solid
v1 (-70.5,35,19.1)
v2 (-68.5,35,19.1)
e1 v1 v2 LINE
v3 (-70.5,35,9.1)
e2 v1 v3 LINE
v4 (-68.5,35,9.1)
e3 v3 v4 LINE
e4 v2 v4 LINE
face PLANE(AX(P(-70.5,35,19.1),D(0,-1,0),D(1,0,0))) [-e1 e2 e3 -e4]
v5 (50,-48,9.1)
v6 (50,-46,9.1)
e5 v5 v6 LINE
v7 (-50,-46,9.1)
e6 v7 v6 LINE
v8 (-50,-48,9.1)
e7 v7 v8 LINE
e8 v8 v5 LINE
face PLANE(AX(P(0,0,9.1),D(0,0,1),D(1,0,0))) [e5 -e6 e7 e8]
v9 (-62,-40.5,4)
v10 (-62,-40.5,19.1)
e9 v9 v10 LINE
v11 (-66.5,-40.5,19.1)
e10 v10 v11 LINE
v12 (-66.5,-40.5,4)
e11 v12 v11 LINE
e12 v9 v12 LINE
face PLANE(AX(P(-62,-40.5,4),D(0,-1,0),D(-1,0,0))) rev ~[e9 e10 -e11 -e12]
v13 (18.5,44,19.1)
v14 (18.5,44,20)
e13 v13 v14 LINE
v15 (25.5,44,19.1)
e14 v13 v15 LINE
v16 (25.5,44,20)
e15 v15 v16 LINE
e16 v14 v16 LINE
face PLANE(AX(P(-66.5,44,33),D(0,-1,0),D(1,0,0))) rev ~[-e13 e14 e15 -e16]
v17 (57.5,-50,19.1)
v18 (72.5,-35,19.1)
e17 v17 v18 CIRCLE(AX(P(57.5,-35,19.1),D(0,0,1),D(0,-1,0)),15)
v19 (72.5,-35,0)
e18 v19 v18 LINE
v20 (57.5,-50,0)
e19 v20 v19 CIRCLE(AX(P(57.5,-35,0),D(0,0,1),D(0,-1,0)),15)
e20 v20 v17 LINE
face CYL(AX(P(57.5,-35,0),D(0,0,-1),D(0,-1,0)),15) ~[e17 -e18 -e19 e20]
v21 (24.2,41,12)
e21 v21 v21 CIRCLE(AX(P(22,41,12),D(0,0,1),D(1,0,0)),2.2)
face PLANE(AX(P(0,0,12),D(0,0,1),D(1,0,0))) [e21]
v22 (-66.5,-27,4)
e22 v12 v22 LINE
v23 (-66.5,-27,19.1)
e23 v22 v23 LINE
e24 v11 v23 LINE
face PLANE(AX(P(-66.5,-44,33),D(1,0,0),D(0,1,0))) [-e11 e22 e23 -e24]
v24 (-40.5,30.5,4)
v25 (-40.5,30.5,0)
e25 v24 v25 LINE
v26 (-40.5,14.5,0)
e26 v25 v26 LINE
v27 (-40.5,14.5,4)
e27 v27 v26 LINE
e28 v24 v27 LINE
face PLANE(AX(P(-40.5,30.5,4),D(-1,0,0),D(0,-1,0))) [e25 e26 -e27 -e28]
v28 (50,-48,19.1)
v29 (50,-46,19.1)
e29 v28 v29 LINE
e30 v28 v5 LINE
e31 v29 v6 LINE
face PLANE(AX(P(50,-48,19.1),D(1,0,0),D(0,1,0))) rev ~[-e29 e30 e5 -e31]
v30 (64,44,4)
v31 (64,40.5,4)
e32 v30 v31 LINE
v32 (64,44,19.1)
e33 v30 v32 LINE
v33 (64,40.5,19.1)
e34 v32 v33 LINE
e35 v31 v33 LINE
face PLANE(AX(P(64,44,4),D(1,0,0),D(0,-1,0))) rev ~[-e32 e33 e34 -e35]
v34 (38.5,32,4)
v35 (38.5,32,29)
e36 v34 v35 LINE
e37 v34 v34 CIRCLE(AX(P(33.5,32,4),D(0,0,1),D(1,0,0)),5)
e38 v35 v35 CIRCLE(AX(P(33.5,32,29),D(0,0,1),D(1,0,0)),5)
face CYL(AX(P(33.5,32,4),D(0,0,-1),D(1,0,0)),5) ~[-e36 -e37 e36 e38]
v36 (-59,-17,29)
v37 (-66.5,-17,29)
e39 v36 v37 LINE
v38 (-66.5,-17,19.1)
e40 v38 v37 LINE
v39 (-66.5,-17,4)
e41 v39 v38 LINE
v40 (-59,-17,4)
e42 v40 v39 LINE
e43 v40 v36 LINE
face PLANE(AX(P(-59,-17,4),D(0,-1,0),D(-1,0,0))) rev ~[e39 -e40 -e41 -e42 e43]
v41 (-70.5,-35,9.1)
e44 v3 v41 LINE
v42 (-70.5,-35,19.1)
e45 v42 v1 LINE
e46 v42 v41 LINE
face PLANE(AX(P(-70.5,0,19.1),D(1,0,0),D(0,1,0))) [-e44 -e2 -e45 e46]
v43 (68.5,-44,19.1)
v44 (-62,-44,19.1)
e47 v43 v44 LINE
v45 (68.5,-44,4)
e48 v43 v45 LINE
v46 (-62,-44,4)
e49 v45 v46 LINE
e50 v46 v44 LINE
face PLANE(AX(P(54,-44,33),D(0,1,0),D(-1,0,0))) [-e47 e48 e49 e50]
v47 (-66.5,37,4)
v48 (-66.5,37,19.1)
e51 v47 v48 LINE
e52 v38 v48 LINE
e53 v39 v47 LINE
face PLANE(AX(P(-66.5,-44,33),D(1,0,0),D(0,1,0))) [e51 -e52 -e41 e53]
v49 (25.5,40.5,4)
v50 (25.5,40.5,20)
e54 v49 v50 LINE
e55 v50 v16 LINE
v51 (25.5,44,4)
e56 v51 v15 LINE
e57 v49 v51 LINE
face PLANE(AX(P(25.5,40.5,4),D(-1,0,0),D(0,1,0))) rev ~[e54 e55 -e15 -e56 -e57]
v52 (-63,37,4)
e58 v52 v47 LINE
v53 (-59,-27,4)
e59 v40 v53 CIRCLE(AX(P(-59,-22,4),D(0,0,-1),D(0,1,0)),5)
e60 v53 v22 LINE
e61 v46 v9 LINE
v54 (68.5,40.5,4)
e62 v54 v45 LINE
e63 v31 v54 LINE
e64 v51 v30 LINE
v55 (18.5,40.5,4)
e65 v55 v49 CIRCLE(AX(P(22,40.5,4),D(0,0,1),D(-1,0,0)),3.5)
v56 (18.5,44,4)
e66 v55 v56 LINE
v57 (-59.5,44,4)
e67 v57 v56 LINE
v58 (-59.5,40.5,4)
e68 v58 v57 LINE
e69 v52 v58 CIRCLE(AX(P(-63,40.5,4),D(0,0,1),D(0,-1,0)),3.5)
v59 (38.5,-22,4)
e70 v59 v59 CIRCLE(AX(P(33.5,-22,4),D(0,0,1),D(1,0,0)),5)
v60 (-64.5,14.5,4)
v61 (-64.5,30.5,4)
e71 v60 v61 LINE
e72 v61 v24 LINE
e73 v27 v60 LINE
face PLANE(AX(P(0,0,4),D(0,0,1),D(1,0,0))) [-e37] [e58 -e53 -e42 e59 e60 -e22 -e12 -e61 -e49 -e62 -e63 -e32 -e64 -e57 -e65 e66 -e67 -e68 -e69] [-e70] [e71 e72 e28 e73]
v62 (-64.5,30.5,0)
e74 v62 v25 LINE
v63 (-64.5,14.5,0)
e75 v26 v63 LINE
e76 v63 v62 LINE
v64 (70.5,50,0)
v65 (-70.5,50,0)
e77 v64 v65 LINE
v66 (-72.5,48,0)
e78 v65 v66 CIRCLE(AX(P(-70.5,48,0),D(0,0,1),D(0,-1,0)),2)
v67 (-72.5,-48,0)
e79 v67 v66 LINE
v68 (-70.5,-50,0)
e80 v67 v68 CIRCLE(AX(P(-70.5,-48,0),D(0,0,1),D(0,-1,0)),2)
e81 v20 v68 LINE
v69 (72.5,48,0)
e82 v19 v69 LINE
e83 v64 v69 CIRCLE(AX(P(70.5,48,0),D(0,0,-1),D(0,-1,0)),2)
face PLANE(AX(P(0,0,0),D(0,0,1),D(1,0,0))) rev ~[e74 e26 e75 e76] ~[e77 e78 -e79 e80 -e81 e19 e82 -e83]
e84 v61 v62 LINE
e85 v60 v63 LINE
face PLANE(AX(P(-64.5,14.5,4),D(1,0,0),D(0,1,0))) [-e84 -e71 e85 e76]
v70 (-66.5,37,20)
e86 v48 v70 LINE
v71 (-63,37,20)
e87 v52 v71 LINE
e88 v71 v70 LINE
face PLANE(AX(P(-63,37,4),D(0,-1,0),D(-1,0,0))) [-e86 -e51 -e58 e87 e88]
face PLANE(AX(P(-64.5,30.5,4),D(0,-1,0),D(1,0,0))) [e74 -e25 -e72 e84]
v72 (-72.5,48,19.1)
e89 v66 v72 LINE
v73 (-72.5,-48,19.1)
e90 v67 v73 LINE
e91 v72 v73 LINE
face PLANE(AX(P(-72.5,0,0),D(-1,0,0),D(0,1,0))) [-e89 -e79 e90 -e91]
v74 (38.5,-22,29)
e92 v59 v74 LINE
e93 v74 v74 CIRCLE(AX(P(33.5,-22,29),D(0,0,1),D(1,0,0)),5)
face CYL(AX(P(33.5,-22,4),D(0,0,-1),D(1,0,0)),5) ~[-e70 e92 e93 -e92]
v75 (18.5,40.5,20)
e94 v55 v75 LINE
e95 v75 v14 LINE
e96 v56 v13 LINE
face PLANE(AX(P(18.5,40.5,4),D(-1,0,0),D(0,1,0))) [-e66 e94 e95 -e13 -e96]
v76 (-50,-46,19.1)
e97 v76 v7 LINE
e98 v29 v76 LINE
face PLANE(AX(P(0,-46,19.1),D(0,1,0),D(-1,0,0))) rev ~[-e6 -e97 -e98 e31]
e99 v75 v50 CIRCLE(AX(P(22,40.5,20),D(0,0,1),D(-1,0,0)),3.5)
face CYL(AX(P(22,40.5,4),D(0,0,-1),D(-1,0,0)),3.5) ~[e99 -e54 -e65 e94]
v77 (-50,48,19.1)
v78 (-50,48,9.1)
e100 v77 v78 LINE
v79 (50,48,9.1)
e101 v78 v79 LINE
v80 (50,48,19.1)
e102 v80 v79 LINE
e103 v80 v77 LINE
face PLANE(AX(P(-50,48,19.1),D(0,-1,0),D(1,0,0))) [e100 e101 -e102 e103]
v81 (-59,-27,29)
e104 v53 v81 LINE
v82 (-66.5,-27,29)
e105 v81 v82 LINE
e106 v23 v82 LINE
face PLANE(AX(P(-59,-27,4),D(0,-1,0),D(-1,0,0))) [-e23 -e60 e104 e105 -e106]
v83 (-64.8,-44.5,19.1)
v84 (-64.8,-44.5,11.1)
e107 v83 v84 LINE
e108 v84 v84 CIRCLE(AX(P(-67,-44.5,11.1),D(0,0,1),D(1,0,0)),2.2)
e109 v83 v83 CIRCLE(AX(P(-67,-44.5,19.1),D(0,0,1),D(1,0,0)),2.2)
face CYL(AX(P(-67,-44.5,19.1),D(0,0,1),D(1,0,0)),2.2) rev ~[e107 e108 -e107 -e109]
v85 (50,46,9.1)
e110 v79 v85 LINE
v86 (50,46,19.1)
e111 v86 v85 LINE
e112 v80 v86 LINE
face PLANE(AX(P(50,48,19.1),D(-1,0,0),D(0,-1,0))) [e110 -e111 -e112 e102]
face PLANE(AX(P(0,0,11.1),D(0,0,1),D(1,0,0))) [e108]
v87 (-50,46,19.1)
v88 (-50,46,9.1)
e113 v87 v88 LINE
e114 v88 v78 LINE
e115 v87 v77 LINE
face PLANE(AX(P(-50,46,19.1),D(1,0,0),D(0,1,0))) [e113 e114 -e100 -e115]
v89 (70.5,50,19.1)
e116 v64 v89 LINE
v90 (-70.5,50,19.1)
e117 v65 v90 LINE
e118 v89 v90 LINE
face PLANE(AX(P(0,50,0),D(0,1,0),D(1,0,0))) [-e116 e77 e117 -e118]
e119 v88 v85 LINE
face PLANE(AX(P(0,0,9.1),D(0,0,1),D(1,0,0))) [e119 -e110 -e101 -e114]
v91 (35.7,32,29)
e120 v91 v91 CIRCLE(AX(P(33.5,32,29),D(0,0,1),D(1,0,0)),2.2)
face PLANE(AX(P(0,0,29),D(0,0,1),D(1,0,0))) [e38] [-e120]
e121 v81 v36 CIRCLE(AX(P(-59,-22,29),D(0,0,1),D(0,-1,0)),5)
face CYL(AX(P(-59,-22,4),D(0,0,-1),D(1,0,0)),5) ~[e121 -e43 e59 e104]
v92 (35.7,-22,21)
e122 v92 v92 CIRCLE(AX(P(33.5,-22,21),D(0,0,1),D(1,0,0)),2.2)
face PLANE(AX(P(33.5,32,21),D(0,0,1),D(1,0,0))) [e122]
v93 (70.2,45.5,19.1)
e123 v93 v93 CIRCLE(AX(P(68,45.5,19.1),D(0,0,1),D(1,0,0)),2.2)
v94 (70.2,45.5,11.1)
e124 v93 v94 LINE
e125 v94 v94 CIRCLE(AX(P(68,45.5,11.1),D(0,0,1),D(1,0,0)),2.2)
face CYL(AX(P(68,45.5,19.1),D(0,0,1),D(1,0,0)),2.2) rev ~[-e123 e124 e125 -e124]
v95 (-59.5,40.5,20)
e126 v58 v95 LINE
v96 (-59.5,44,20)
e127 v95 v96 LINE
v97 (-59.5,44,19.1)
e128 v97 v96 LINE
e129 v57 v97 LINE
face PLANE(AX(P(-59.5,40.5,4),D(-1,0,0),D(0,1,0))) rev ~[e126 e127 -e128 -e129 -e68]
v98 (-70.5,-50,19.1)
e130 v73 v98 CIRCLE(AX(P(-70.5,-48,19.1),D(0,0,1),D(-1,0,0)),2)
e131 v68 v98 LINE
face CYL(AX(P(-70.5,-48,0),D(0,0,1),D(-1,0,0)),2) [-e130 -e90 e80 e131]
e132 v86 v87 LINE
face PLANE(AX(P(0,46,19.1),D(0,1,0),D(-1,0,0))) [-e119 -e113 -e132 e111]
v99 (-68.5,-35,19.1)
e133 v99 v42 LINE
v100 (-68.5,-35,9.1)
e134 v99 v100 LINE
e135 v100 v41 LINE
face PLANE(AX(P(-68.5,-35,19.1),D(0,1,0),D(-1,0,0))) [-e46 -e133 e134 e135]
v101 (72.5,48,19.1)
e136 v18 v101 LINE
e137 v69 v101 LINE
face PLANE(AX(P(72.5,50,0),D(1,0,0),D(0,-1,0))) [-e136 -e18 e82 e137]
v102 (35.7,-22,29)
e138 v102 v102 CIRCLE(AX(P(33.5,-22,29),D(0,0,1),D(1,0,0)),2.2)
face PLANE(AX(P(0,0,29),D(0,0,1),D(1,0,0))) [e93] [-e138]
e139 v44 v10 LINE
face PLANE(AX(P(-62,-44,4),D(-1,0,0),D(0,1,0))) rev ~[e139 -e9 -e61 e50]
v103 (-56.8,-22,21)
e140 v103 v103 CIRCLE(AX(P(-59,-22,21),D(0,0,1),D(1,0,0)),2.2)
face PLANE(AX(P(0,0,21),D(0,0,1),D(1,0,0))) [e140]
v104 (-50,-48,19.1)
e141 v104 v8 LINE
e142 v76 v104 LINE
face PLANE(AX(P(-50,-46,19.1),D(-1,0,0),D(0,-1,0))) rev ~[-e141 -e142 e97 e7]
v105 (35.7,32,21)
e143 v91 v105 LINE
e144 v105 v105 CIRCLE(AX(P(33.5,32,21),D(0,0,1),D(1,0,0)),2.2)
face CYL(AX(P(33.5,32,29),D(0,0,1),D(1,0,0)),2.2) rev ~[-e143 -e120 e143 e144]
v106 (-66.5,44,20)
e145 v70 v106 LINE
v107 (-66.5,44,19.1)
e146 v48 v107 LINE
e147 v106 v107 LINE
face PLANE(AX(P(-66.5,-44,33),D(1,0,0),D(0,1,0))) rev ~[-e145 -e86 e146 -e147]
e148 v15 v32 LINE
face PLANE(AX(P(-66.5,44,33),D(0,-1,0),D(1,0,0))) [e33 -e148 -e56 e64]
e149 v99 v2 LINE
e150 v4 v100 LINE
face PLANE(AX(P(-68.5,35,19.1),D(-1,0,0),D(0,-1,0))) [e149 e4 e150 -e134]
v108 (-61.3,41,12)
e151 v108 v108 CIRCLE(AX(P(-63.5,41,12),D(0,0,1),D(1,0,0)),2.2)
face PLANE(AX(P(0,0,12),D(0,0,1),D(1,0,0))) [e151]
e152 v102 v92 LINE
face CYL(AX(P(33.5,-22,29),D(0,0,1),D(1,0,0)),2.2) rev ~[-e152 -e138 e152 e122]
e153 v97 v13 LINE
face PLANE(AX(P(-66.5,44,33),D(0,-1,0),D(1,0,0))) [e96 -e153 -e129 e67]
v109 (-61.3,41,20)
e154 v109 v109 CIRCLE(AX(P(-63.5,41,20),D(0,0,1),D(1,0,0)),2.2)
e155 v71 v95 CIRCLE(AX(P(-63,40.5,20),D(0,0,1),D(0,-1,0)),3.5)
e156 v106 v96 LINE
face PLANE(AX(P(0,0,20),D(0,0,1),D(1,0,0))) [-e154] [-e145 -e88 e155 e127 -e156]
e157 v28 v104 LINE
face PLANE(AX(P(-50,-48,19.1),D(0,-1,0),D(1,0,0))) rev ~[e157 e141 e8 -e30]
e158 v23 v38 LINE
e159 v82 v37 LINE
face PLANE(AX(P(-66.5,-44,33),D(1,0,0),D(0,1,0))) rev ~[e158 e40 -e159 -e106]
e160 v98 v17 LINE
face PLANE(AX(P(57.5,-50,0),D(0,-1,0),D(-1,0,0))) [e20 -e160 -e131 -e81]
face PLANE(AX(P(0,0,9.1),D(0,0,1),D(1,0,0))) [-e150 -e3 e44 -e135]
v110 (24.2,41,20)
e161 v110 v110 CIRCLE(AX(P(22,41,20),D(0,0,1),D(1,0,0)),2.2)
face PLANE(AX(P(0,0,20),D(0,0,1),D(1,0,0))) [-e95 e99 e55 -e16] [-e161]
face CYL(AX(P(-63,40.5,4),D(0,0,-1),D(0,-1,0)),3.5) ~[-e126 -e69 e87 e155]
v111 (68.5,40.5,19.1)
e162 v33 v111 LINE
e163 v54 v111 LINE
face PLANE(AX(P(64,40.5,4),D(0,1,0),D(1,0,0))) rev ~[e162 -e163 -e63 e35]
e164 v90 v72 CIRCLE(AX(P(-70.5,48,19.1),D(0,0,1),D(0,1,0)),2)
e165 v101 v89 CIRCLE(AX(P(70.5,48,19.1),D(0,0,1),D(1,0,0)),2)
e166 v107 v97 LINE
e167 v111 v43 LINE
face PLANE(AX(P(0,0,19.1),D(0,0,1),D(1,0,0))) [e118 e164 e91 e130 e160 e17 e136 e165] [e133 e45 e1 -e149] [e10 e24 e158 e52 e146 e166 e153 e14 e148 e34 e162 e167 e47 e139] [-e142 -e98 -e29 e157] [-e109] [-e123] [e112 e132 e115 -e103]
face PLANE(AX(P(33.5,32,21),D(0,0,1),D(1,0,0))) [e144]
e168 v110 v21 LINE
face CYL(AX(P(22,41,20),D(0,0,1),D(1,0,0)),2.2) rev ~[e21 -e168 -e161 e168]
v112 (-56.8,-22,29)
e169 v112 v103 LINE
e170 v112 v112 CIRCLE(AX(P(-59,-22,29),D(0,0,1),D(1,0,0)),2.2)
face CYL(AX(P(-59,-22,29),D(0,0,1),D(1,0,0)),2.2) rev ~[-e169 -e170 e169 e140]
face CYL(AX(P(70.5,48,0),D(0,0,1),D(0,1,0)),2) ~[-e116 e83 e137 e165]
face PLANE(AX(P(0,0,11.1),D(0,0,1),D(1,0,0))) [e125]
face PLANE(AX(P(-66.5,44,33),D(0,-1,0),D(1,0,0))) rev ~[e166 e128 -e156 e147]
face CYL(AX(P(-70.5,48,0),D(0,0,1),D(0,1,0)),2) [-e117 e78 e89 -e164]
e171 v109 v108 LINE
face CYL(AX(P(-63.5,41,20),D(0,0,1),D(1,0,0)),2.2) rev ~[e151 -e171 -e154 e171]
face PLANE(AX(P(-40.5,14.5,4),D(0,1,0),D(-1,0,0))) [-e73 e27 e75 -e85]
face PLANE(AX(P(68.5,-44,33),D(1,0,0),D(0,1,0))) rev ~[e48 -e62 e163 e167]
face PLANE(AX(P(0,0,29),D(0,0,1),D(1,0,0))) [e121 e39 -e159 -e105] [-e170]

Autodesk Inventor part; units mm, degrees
ref_plane "YZ Plane" through (0, 0, 0) normal (1, 0, 0) x (0, 1, 0)
ref_plane "XZ Plane" through (0, 0, 0) normal (0, 1, 0) x (-1, 0, 0)
ref_plane "XY Plane" through (0, 0, 0) normal (0, 0, 1) x (1, 0, 0)
sketch "Náčrt1" plane through (0, 0, 0) normal (0, 0, 1) x (1, 0, 0)
  line L0 (0, 71.6213) -> (0, -79.7279) projected
  line L1 (-102.1213, 0) -> (105.2279, 0) projected
  line L2 (-72.5, 50) -> (72.5, 50)
  line L3 (72.5, 50) -> (72.5, -35)
  line L4 (57.5, -50) -> (-72.5, -50)
  line L5 (-72.5, -50) -> (-72.5, 50)
  arc A0 (57.5, -50) -> (72.5, -35) centre (57.5, -35) ccw
  point P0 (0, 0)
  point P1 (-72.5, 0)
  point P2 (0, -50)
  point P3 (0, 50)
  point P4 (72.5, 0)
  dimension "d0" = 130
  dimension "d1" = 100
  dimension "d2" = 30
extrude "Vysunutí1" add sketch "Náčrt1" along normal blind 33
sketch "Náčrt2" plane through (0, 0, 33) normal (0, 0, 1) x (1, 0, 0)
  line L0 (-72.5, -50) -> (57.5, -50) projected
  arc A0 (57.5, -50) -> (72.5, -35) centre (57.5, -35) ccw projected
  line L1 (72.5, -35) -> (72.5, 50) projected
  line L2 (72.5, 50) -> (-72.5, 50) projected
  line L3 (-72.5, 50) -> (-72.5, -50) projected
  line L4 (-66.5, 44) -> (68.5, 44)
  line L5 (68.5, 44) -> (68.5, -31.5)
  line L6 (54, -44) -> (-66.5, -44)
  line L7 (-66.5, -44) -> (-66.5, 44)
  line L8 (54, -44) -> (68.5, -44)
  line L9 (68.5, -44) -> (68.5, -31.5)
  point P0 (0, 0)
  dimension "d5" = 4
  dimension "d6" = 6
  dimension "d7" = 6
  dimension "d8" = 6
extrude "Vysunutí2" cut sketch "Náčrt2" against normal blind 29 contours L4 L5 L9 L8 L6 L7
fillet "Zaoblení1" radius 2 1 edges at (72.5, 50, 16.5)
fillet "Zaoblení2" radius 2 2 edges at (-72.5, 50, 16.5) (-72.5, -50, 16.5)
sketch "Náčrt3" plane through (0, 0, 4) normal (0, 0, 1) x (1, 0, 0)
  line L0 (68.5, 44) -> (68.5, -44) projected
  line L1 (-66.5, 44) -> (68.5, 44) projected
  line L2 (-66.5, -44) -> (-66.5, 44) projected
  line L3 (68.5, -44) -> (-66.5, -44) projected
  arc A0 (-72.5, -48) -> (-70.5, -50) centre (-70.5, -48) ccw projected
  line L4 (-70.5, -50) -> (57.5, -50) projected
  arc A1 (57.5, -50) -> (72.5, -35) centre (57.5, -35) ccw projected
  line L5 (72.5, -35) -> (72.5, 48) projected
  arc A2 (72.5, 48) -> (70.5, 50) centre (70.5, 48) ccw projected
  line L6 (70.5, 50) -> (-70.5, 50) projected
  arc A3 (-70.5, 50) -> (-72.5, 48) centre (-70.5, 48) ccw projected
  line L7 (-72.5, 48) -> (-72.5, -48) projected
  line L8 (-66.5, 44) -> (68.5, 44) projected
  line L9 (68.5, 44) -> (68.5, -44) projected
  line L10 (68.5, -44) -> (-66.5, -44) projected
  line L11 (-66.5, -44) -> (-66.5, 44) projected
  arc A4 (-63, 37) -> (-59.5, 40.5) centre (-63, 40.5) ccw
  line L12 (-66.5, 44) -> (68.5, 44) projected
  line L13 (-66.5, -44) -> (-66.5, 44) projected
  line L14 (-59.5, 40.5) -> (-59.5, 44)
  line L15 (-63, 37) -> (-66.5, 37)
  arc A5 (18.5, 40.5) -> (25.5, 40.5) centre (22, 40.5) ccw
  line L16 (25.5, 40.5) -> (25.5, 44)
  line L17 (18.5, 40.5) -> (18.5, 44)
  circle A6 centre (33.5, 32) radius 5
  circle A7 centre (20.5, -20.4118) radius 5
  arc A8 (-58.5, 21.7369) -> (-58.5, 31.7369) centre (-58.5, 26.7369) ccw
  line L18 (-58.5, 31.7369) -> (-66.5, 31.7369)
  line L19 (-58.5, 21.7369) -> (-66.5, 21.7369)
  point P0 (0, 0)
  point P1 (25.5, 42.25)
  point P2 (25.5, 44)
  point P3 (18.5, 44)
  point P4 (-66.5, 37)
  dimension "d14" = 7
  dimension "d15" = 7
  dimension "d16" = 85
  dimension "d17" = 10
  dimension "d18" = 8
  dimension "d19" = 8.5
  dimension "d20" = 10
  dimension "d21" = 54
  dimension "d22" = 48
  dimension "d23" = 10
  dimension "d24" = 92
  dimension "d25" = 8
extrude "Vysunutí3" add sketch "Náčrt3" along normal blind 16 contours L16 A5 L17 L1 | L14 A4 L15 L2 L1
sketch "Náčrt4" plane through (0, 0, 4) normal (0, 0, 1) x (1, 0, 0)
  line L0 (25.5, 44) -> (25.5, 40.5) projected
  arc A0 (18.5, 40.5) -> (25.5, 40.5) centre (22, 40.5) ccw projected
  line L1 (18.5, 40.5) -> (18.5, 44) projected
  line L2 (-59.5, 44) -> (18.5, 44) projected
  line L3 (-59.5, 44) -> (-59.5, 40.5) projected
  arc A1 (-63, 37) -> (-59.5, 40.5) centre (-63, 40.5) ccw projected
  line L4 (-63, 37) -> (-66.5, 37) projected
  line L5 (-66.5, -44) -> (-66.5, 37) projected
  line L6 (68.5, -44) -> (-66.5, -44) projected
  line L7 (68.5, 44) -> (68.5, -44) projected
  line L8 (25.5, 44) -> (68.5, 44) projected
  circle A2 centre (33.5, 32) radius 5
  circle A3 centre (33.5, -22) radius 5
  circle A4 centre (-59, -22) radius 5
  line L9 (-59, -17) -> (-66.5, -17)
  line L10 (-59, -27) -> (-66.5, -27)
  point P0 (0, 0)
  dimension "d28" = 10
  dimension "d29" = 10
  dimension "d30" = 10
  dimension "d31" = 8
  dimension "d32" = 8.5
  dimension "d33" = 54
  dimension "d61" = 92.5
  dimension "d62" = 7.5
  dimension "d77" = 100
extrude "Vysunutí4" add sketch "Náčrt4" along normal blind 25 contours L5 L9 A4 L10 | A4 | A2 | A3
sketch "Náčrt6" plane through (0, 0, 4) normal (0, 0, 1) x (1, 0, 0)
  line L0 (-64.5, 30.5) -> (-40.5, 30.5)
  line L1 (-40.5, 30.5) -> (-40.5, 14.5)
  line L2 (-40.5, 14.5) -> (-64.5, 14.5)
  line L3 (-64.5, 14.5) -> (-64.5, 30.5)
  line L4 (-66.5, 44) -> (68.5, 44) projected
  line L5 (-66.5, -44) -> (-66.5, 44) projected
  point P0 (0, 0)
  dimension "d41" = 24
  dimension "d42" = 16
  dimension "d43" = 13.5
  dimension "d44" = 2
extrude "Vysunutí5" cut sketch "Náčrt6" against normal blind 33
sketch "Náčrt8" plane through (0, 0, 33) normal (0, 0, 1) x (1, 0, 0)
  arc A0 (-72.5, -48) -> (-70.5, -50) centre (-70.5, -48) ccw projected
  line L0 (-70.5, -50) -> (57.5, -50) projected
  arc A1 (57.5, -50) -> (72.5, -35) centre (57.5, -35) ccw projected
  line L1 (72.5, -35) -> (72.5, 48) projected
  arc A2 (72.5, 48) -> (70.5, 50) centre (70.5, 48) ccw projected
  line L2 (70.5, 50) -> (-70.5, 50) projected
  arc A3 (-70.5, 50) -> (-72.5, 48) centre (-70.5, 48) ccw projected
  line L3 (-72.5, 48) -> (-72.5, -48) projected
  line L4 (-66.5, 44) -> (68.5, 44) projected
  line L5 (68.5, 44) -> (68.5, -44) projected
  line L6 (68.5, -44) -> (-66.5, -44) projected
  line L7 (-66.5, -44) -> (-66.5, 44) projected
  line L8 (-66.5, 44) -> (68.5, 44)
  line L9 (68.5, 44) -> (68.5, -44)
  line L10 (68.5, -44) -> (-66.5, -44)
  line L11 (-66.5, -44) -> (-66.5, 44)
  arc A4 (57.5, -50) -> (72.5, -35) centre (57.5, -35) ccw
  line L12 (72.5, -35) -> (72.5, 48.1384)
  line L13 (70.5, 50) -> (-70.5, 50)
  line L14 (-72.5, 48) -> (-72.5, -48)
  line L15 (-70.5, -50) -> (57.5, -50)
  circle A5 centre (-70.5, -48) radius 2
  circle A6 centre (-70.5, 48) radius 2
  circle A7 centre (70.5, 48) radius 2
  point P0 (0, 0)
extrude "Vysunutí6" cut sketch "Náčrt8" against normal blind 13.9
sketch "Náčrt9" plane through (0, 0, 20) normal (0, 0, 1) x (1, 0, 0)
  line L0 (-59.5, 40.5) -> (-59.5, 44) projected
  line L1 (-66.5, 44) -> (-59.5, 44) projected
  line L2 (-66.5, 37) -> (-66.5, 44) projected
  line L3 (-66.5, 37) -> (-63, 37) projected
  arc A0 (-63, 37) -> (-59.5, 40.5) centre (-63, 40.5) ccw projected
  line L4 (25.5, 40.5) -> (25.5, 44) projected
  line L5 (18.5, 44) -> (25.5, 44) projected
  line L6 (18.5, 44) -> (18.5, 40.5) projected
  arc A1 (18.5, 40.5) -> (25.5, 40.5) centre (22, 40.5) ccw projected
  circle A2 centre (-63.5, 41) radius 2.2
  circle A3 centre (22, 41) radius 2.2
  point P0 (0, 0)
  dimension "d49" = 4.4
  dimension "d50" = 3
  dimension "d51" = 3
  dimension "d52" = 4.4
  dimension "d53" = 3
  dimension "d54" = 3.5
extrude "Vysunutí7" cut sketch "Náčrt9" against normal blind 8 contours A2 | A3
sketch "Náčrt10" plane through (33.5, 32, 29) normal (0, 0, 1) x (1, 0, 0)
  circle A0 centre (0, 0) radius 5 projected
  circle A1 centre (0, -54) radius 5 projected
  line L0 (-92.5, -49) -> (-100, -49) projected
  line L1 (-100, -59) -> (-100, -49) projected
  line L2 (-100, -59) -> (-92.5, -59) projected
  arc A2 (-92.5, -59) -> (-92.5, -49) centre (-92.5, -54) ccw projected
  circle A3 centre (0, 0) radius 2.2
  circle A4 centre (0, -54) radius 2.2
  point P0 (-33.5, -32)
  dimension "d57" = 4.4
  dimension "d58" = 4.4
extrude "Vysunutí8" cut sketch "Náčrt10" against normal blind 8 contours A3 | A4
sketch "Náčrt11" plane through (0, 0, 29) normal (0, 0, 1) x (1, 0, 0)
  line L0 (-59, -17) -> (-66.5, -17) projected
  line L1 (-66.5, -27) -> (-66.5, -17) projected
  line L2 (-66.5, -27) -> (-59, -27) projected
  arc A0 (-59, -27) -> (-59, -17) centre (-59, -22) ccw projected
  circle A1 centre (-59, -22) radius 2.2
  point P0 (0, 0)
  dimension "d63" = 4.4
extrude "Vysunutí9" cut sketch "Náčrt11" against normal blind 8 contours A1
sketch "Náčrt12" plane through (0, 0, 20) normal (0, 0, 1) x (1, 0, 0)
  line L0 (-66.5, 37) -> (-63, 37) projected
  circle A0 centre (-63.5, 41) radius 2.2 projected
  line L1 (-59.5, 40.5) -> (-59.5, 44) projected
  line L2 (-66.5, 44) -> (-59.5, 44) projected
  line L3 (-66.5, 37) -> (-66.5, 44) projected
  line L4 (-66.5, 37) -> (-63, 37) projected
  arc A1 (-63, 37) -> (-59.5, 40.5) centre (-63, 40.5) ccw projected
  circle A2 centre (22, 41) radius 2.2 projected
  line L5 (25.5, 40.5) -> (25.5, 44) projected
  line L6 (18.5, 44) -> (25.5, 44) projected
  line L7 (18.5, 44) -> (18.5, 40.5) projected
  arc A3 (18.5, 40.5) -> (25.5, 40.5) centre (22, 40.5) ccw projected
  line L8 (-65.9036, 43.7615) -> (24.0964, 43.7615) construction
  line L9 (24.0964, 43.7615) -> (24.0964, -3.2385) construction
  line L10 (24.0964, -3.2385) -> (-65.9036, -3.2385) construction
  line L11 (-65.9036, -3.2385) -> (-65.9036, 43.7615) construction
  point P0 (0, 0)
  dimension "d66" = 90
  dimension "d67" = 47
sketch "Náčrt13" plane through (0, 0, 29) normal (0, 0, 1) x (1, 0, 0)
  circle A0 centre (-59, -22) radius 2.2 projected
  line L0 (-59, -17) -> (-66.5, -17) projected
  line L1 (-66.5, -27) -> (-66.5, -17) projected
  line L2 (-66.5, -27) -> (-59, -27) projected
  arc A1 (-59, -27) -> (-59, -17) centre (-59, -22) ccw projected
  circle A2 centre (33.5, -22) radius 2.2 projected
  circle A3 centre (33.5, -22) radius 5 projected
  circle A4 centre (33.5, 32) radius 5 projected
  circle A5 centre (33.5, 32) radius 2.2 projected
  line L3 (-62.1019, -25.0857) -> (36.3981, -25.0857) construction
  line L4 (36.3981, -25.0857) -> (36.3981, 34.9143) construction
  line L5 (36.3981, 34.9143) -> (-62.1019, 34.9143) construction
  line L6 (-62.1019, 34.9143) -> (-62.1019, -25.0857) construction
  point P0 (0, 0)
  dimension "d68" = 98.5
  dimension "d69" = 60
sketch "Náčrt15" plane through (0, 0, 4) normal (0, 0, 1) x (1, 0, 0)
  line L0 (-70.5, 50) -> (70.5, 50) projected
  arc A0 (-70.5, 50) -> (-72.5, 48) centre (-70.5, 48) ccw projected
  line L1 (-72.5, -48) -> (-72.5, 48) projected
  arc A1 (-72.5, -48) -> (-70.5, -50) centre (-70.5, -48) ccw projected
  line L2 (57.5, -50) -> (-70.5, -50) projected
  arc A2 (57.5, -50) -> (72.5, -35) centre (57.5, -35) ccw projected
  line L3 (72.5, 48) -> (72.5, -35) projected
  arc A3 (72.5, 48) -> (70.5, 50) centre (70.5, 48) ccw projected
  line L4 (-66.5, 37) -> (-66.5, -17) projected
  line L5 (18.5, 44) -> (-59.5, 44) projected
  line L6 (68.5, -44) -> (68.5, 44) projected
  line L7 (-66.5, -44) -> (68.5, -44) projected
  line L8 (-66.5, -27) -> (-66.5, -44) projected
  line L9 (-66.5, -17) -> (-66.5, -27) projected
  line L10 (-66.5, 44) -> (-66.5, 37) projected
  line L11 (-59.5, 44) -> (-66.5, 44) projected
  line L12 (25.5, 44) -> (18.5, 44) projected
  line L13 (68.5, 44) -> (25.5, 44) projected
  point P0 (0, 0)
sketch "Náčrt16" plane through (0, 0, 4) normal (0, 0, 1) x (1, 0, 0)
  line L0 (68.5, -44) -> (-66.5, -44) projected
  line L1 (68.5, 44) -> (68.5, -44) projected
  line L2 (41.5, -44) -> (68.5, -44)
  line L3 (68.5, -44) -> (68.5, -40)
  arc A0 (57.5, -50) -> (72.5, -35) centre (57.5, -35) ccw construction
  point P0 (0, 0)
  point P1 (68.5, -23.5)
  point P2 (68.5, -30.5)
extrude "Vysunutí10" [suppressed]
sketch "Náčrt17" plane through (47, -27, 6) normal (0, 0, 1) x (1, 0, 0)
  circle A0 centre (0, 0) radius 3.5 projected
  line L0 (-117.5, 77) -> (23.5, 77) projected
  arc A1 (-117.5, 77) -> (-119.5, 75) centre (-117.5, 75) ccw projected
  line L1 (-119.5, -21) -> (-119.5, 75) projected
  arc A2 (-119.5, -21) -> (-117.5, -23) centre (-117.5, -21) ccw projected
  line L2 (10.5, -23) -> (-117.5, -23) projected
  arc A3 (10.5, -23) -> (25.5, -8) centre (10.5, -8) ccw projected
  line L3 (25.5, 75) -> (25.5, -8) projected
  arc A4 (25.5, 75) -> (23.5, 77) centre (23.5, 75) ccw projected
  line L4 (-113.5, 64) -> (-113.5, 10) projected
  line L5 (-28.5, 71) -> (-106.5, 71) projected
  line L6 (21.5, -17) -> (21.5, 71) projected
  line L7 (-113.5, -17) -> (21.5, -17) projected
  line L8 (17, -3.5) -> (21.5, -3.5) projected
  line L9 (21.5, 3.5) -> (21.5, -3.5) projected
  line L10 (21.5, 3.5) -> (17, 3.5) projected
  arc A5 (17, 3.5) -> (17, -3.5) centre (17, 0) ccw projected
  line L11 (21.5, 3.5) -> (21.5, -3.5) projected
  line L12 (-113.5, 0) -> (-113.5, -17) projected
  line L13 (-113.5, 10) -> (-113.5, 0) projected
  line L14 (-113.5, 71) -> (-113.5, 64) projected
  line L15 (-106.5, 71) -> (-113.5, 71) projected
  line L16 (-21.5, 71) -> (-28.5, 71) projected
  line L17 (21.5, 71) -> (-21.5, 71) projected
  line L18 (17, -3.5) -> (21.5, -3.5) projected
  line L19 (21.5, 3.5) -> (17, 3.5) projected
  arc A6 (17, 3.5) -> (17, -3.5) centre (17, 0) ccw projected
  point P0 (-47, 27)
hole "Díra1" [suppressed]
sketch "Náčrt19" plane through (33.5, -22, 29) normal (0, 0, 1) x (1, 0, 0)
  point P0 (-33.5, 22)
sketch "Náčrt20" plane through (0, 0, 19.1) normal (0, 0, 1) x (1, 0, 0)
  line L0 (-70.5, 50) -> (70.5, 50) projected
  arc A0 (-70.5, 50) -> (-72.5, 48) centre (-70.5, 48) ccw projected
  line L1 (-72.5, -48) -> (-72.5, 48) projected
  arc A1 (-72.5, -48) -> (-70.5, -50) centre (-70.5, -48) ccw projected
  line L2 (57.5, -50) -> (-70.5, -50) projected
  arc A2 (57.5, -50) -> (72.5, -35) centre (57.5, -35) ccw projected
  line L3 (72.5, 48) -> (72.5, -35) projected
  arc A3 (72.5, 48) -> (70.5, 50) centre (70.5, 48) ccw projected
  line L4 (-66.5, 37) -> (-66.5, -17) projected
  line L5 (18.5, 44) -> (-59.5, 44) projected
  line L6 (68.5, -44) -> (68.5, 44) projected
  line L7 (-66.5, -44) -> (68.5, -44) projected
  line L8 (-50, 48) -> (50, 48)
  line L9 (50, 48) -> (50, 46)
  line L10 (50, 46) -> (-50, 46)
  line L11 (-50, 46) -> (-50, 48)
  line L12 (0, 71.1184) -> (0, -73.8108) projected
  line L13 (-102.6184, 0) -> (105.3108, 0) projected
  line L14 (-50, -48) -> (50, -48)
  line L15 (50, -48) -> (50, -46)
  line L16 (50, -46) -> (-50, -46)
  line L17 (-50, -46) -> (-50, -48)
  line L18 (-70.5, 35) -> (-68.5, 35)
  line L19 (-68.5, 35) -> (-68.5, -35)
  line L20 (-68.5, -35) -> (-70.5, -35)
  line L21 (-70.5, -35) -> (-70.5, 35)
  line L22 (-66.5, -27) -> (-66.5, -44) projected
  line L23 (-66.5, -17) -> (-66.5, -27) projected
  line L24 (-66.5, 44) -> (-66.5, 37) projected
  line L25 (-59.5, 44) -> (-66.5, 44) projected
  line L26 (25.5, 44) -> (18.5, 44) projected
  line L27 (68.5, 44) -> (25.5, 44) projected
  point P0 (0, 0)
  dimension "d103" = 100
  dimension "d104" = 2
  dimension "d105" = 2
  dimension "d106" = 2
  dimension "d107" = 70
  dimension "d108" = 2
extrude "Vysunutí11" cut sketch "Náčrt20" against normal blind 10 contours L12 L10 L11 L8 | L8 L9 L10 L12 | L21 L18 L19 L13 | L13 L19 L20 L21 | L14 L17 L16 L12 | L12 L16 L15 L14
sketch "Náčrt22" plane through (0, 0, 4) normal (0, 0, 1) x (1, 0, 0)
  line L0 (50, -46) -> (50, -48) projected
  line L1 (50, -48) -> (-50, -48) projected
  line L2 (-50, -48) -> (-50, -46) projected
  line L3 (-50, -46) -> (50, -46) projected
  line L4 (-70.5, 35) -> (-68.5, 35) projected
  line L5 (-68.5, 35) -> (-68.5, -35) projected
  line L6 (-68.5, -35) -> (-70.5, -35) projected
  line L7 (-70.5, -35) -> (-70.5, 35) projected
  line L8 (-50, 46) -> (-50, 48) projected
  line L9 (-50, 48) -> (50, 48) projected
  line L10 (50, 48) -> (50, 46) projected
  line L11 (50, 46) -> (-50, 46) projected
  line L12 (-70.5, 50) -> (70.5, 50) projected
  arc A0 (-70.5, 50) -> (-72.5, 48) centre (-70.5, 48) ccw projected
  line L13 (-72.5, -48) -> (-72.5, 48) projected
  arc A1 (-72.5, -48) -> (-70.5, -50) centre (-70.5, -48) ccw projected
  line L14 (57.5, -50) -> (-70.5, -50) projected
  arc A2 (57.5, -50) -> (72.5, -35) centre (57.5, -35) ccw projected
  line L15 (72.5, 48) -> (72.5, -35) projected
  arc A3 (72.5, 48) -> (70.5, 50) centre (70.5, 48) ccw projected
  line L16 (-66.5, 44) -> (-66.5, 37) projected
  line L17 (-59.5, 44) -> (-66.5, 44) projected
  line L18 (18.5, 44) -> (-59.5, 44) projected
  line L19 (25.5, 44) -> (18.5, 44) projected
  line L20 (68.5, 44) -> (25.5, 44) projected
  line L21 (68.5, -44) -> (68.5, 44) projected
  line L22 (-66.5, -44) -> (68.5, -44) projected
  line L23 (-66.5, -27) -> (-66.5, -44) projected
  line L24 (-66.5, -17) -> (-66.5, -27) projected
  line L25 (-66.5, 37) -> (-66.5, -17) projected
  circle A4 centre (33.5, 32) radius 5 projected
  circle A5 centre (33.5, -22) radius 5 projected
  line L26 (68.5, 44) -> (68.5, -44) projected
  line L27 (25.5, 44) -> (68.5, 44) projected
  line L28 (25.5, 44) -> (25.5, 40.5) projected
  arc A6 (18.5, 40.5) -> (25.5, 40.5) centre (22, 40.5) ccw projected
  line L29 (18.5, 40.5) -> (18.5, 44) projected
  line L30 (-59.5, 44) -> (18.5, 44) projected
  line L31 (-59.5, 44) -> (-59.5, 40.5) projected
  arc A7 (-63, 37) -> (-59.5, 40.5) centre (-63, 40.5) ccw projected
  line L32 (-63, 37) -> (-66.5, 37) projected
  line L33 (-66.5, -17) -> (-66.5, 37) projected
  line L34 (-66.5, -17) -> (-59, -17) projected
  arc A8 (-59, -27) -> (-59, -17) centre (-59, -22) ccw projected
  line L35 (-59, -27) -> (-66.5, -27) projected
  line L36 (-66.5, -44) -> (-66.5, -27) projected
  line L37 (68.5, -44) -> (-66.5, -44) projected
  line L38 (-40.5, 30.5) -> (-40.5, 14.5) projected
  line L39 (-40.5, 14.5) -> (-64.5, 14.5) projected
  line L40 (-64.5, 14.5) -> (-64.5, 30.5) projected
  line L41 (-64.5, 30.5) -> (-40.5, 30.5) projected
  line L42 (68.5, 44) -> (64, 44)
  line L43 (64, 44) -> (64, 40.5)
  line L44 (64, 40.5) -> (68.5, 40.5)
  line L45 (68.5, 40.5) -> (68.5, 44)
  line L46 (-66.5, -44) -> (-66.5, -27) projected
  line L47 (-66.5, -44) -> (-62, -44)
  line L48 (-62, -44) -> (-62, -40.5)
  line L49 (-62, -40.5) -> (-66.5, -40.5)
  line L50 (-66.5, -40.5) -> (-66.5, -44)
  point P0 (0, 0)
  dimension "d119" = 4.5
  dimension "d120" = 3.5
  dimension "d121" = 4.5
  dimension "d122" = 3.5
extrude "Vysunutí13" add sketch "Náčrt22" along normal up to surface (15.1 mm away) contours L49 L48 L22 L23 | L20 L21 L44 L43
sketch "Náčrt23" plane through (0, 0, 19.1) normal (0, 0, 1) x (1, 0, 0)
  circle A0 centre (-67, -44.5) radius 2.2
  line L0 (57.5, -50) -> (-70.5, -50) projected
  line L1 (-72.5, -48) -> (-72.5, 48) projected
  circle A1 centre (68, 45.5) radius 2.2
  line L2 (72.5, 48) -> (72.5, -35) projected
  line L3 (-70.5, 50) -> (70.5, 50) projected
  point P0 (0, 0)
  dimension "d125" = 4.4
  dimension "d126" = 5.5
  dimension "d127" = 5.5
  dimension "d128" = 4.4
  dimension "d129" = 4.5
  dimension "d130" = 4.5
extrude "Vysunutí14" cut sketch "Náčrt23" against normal blind 8
sketch "Náčrt24" plane through (47, -27, 3) normal (0, 0, 1) x (1, 0, 0)
  point P0 (-47, 27)
properties part number "Krabicka_dolni_3D tisk"
